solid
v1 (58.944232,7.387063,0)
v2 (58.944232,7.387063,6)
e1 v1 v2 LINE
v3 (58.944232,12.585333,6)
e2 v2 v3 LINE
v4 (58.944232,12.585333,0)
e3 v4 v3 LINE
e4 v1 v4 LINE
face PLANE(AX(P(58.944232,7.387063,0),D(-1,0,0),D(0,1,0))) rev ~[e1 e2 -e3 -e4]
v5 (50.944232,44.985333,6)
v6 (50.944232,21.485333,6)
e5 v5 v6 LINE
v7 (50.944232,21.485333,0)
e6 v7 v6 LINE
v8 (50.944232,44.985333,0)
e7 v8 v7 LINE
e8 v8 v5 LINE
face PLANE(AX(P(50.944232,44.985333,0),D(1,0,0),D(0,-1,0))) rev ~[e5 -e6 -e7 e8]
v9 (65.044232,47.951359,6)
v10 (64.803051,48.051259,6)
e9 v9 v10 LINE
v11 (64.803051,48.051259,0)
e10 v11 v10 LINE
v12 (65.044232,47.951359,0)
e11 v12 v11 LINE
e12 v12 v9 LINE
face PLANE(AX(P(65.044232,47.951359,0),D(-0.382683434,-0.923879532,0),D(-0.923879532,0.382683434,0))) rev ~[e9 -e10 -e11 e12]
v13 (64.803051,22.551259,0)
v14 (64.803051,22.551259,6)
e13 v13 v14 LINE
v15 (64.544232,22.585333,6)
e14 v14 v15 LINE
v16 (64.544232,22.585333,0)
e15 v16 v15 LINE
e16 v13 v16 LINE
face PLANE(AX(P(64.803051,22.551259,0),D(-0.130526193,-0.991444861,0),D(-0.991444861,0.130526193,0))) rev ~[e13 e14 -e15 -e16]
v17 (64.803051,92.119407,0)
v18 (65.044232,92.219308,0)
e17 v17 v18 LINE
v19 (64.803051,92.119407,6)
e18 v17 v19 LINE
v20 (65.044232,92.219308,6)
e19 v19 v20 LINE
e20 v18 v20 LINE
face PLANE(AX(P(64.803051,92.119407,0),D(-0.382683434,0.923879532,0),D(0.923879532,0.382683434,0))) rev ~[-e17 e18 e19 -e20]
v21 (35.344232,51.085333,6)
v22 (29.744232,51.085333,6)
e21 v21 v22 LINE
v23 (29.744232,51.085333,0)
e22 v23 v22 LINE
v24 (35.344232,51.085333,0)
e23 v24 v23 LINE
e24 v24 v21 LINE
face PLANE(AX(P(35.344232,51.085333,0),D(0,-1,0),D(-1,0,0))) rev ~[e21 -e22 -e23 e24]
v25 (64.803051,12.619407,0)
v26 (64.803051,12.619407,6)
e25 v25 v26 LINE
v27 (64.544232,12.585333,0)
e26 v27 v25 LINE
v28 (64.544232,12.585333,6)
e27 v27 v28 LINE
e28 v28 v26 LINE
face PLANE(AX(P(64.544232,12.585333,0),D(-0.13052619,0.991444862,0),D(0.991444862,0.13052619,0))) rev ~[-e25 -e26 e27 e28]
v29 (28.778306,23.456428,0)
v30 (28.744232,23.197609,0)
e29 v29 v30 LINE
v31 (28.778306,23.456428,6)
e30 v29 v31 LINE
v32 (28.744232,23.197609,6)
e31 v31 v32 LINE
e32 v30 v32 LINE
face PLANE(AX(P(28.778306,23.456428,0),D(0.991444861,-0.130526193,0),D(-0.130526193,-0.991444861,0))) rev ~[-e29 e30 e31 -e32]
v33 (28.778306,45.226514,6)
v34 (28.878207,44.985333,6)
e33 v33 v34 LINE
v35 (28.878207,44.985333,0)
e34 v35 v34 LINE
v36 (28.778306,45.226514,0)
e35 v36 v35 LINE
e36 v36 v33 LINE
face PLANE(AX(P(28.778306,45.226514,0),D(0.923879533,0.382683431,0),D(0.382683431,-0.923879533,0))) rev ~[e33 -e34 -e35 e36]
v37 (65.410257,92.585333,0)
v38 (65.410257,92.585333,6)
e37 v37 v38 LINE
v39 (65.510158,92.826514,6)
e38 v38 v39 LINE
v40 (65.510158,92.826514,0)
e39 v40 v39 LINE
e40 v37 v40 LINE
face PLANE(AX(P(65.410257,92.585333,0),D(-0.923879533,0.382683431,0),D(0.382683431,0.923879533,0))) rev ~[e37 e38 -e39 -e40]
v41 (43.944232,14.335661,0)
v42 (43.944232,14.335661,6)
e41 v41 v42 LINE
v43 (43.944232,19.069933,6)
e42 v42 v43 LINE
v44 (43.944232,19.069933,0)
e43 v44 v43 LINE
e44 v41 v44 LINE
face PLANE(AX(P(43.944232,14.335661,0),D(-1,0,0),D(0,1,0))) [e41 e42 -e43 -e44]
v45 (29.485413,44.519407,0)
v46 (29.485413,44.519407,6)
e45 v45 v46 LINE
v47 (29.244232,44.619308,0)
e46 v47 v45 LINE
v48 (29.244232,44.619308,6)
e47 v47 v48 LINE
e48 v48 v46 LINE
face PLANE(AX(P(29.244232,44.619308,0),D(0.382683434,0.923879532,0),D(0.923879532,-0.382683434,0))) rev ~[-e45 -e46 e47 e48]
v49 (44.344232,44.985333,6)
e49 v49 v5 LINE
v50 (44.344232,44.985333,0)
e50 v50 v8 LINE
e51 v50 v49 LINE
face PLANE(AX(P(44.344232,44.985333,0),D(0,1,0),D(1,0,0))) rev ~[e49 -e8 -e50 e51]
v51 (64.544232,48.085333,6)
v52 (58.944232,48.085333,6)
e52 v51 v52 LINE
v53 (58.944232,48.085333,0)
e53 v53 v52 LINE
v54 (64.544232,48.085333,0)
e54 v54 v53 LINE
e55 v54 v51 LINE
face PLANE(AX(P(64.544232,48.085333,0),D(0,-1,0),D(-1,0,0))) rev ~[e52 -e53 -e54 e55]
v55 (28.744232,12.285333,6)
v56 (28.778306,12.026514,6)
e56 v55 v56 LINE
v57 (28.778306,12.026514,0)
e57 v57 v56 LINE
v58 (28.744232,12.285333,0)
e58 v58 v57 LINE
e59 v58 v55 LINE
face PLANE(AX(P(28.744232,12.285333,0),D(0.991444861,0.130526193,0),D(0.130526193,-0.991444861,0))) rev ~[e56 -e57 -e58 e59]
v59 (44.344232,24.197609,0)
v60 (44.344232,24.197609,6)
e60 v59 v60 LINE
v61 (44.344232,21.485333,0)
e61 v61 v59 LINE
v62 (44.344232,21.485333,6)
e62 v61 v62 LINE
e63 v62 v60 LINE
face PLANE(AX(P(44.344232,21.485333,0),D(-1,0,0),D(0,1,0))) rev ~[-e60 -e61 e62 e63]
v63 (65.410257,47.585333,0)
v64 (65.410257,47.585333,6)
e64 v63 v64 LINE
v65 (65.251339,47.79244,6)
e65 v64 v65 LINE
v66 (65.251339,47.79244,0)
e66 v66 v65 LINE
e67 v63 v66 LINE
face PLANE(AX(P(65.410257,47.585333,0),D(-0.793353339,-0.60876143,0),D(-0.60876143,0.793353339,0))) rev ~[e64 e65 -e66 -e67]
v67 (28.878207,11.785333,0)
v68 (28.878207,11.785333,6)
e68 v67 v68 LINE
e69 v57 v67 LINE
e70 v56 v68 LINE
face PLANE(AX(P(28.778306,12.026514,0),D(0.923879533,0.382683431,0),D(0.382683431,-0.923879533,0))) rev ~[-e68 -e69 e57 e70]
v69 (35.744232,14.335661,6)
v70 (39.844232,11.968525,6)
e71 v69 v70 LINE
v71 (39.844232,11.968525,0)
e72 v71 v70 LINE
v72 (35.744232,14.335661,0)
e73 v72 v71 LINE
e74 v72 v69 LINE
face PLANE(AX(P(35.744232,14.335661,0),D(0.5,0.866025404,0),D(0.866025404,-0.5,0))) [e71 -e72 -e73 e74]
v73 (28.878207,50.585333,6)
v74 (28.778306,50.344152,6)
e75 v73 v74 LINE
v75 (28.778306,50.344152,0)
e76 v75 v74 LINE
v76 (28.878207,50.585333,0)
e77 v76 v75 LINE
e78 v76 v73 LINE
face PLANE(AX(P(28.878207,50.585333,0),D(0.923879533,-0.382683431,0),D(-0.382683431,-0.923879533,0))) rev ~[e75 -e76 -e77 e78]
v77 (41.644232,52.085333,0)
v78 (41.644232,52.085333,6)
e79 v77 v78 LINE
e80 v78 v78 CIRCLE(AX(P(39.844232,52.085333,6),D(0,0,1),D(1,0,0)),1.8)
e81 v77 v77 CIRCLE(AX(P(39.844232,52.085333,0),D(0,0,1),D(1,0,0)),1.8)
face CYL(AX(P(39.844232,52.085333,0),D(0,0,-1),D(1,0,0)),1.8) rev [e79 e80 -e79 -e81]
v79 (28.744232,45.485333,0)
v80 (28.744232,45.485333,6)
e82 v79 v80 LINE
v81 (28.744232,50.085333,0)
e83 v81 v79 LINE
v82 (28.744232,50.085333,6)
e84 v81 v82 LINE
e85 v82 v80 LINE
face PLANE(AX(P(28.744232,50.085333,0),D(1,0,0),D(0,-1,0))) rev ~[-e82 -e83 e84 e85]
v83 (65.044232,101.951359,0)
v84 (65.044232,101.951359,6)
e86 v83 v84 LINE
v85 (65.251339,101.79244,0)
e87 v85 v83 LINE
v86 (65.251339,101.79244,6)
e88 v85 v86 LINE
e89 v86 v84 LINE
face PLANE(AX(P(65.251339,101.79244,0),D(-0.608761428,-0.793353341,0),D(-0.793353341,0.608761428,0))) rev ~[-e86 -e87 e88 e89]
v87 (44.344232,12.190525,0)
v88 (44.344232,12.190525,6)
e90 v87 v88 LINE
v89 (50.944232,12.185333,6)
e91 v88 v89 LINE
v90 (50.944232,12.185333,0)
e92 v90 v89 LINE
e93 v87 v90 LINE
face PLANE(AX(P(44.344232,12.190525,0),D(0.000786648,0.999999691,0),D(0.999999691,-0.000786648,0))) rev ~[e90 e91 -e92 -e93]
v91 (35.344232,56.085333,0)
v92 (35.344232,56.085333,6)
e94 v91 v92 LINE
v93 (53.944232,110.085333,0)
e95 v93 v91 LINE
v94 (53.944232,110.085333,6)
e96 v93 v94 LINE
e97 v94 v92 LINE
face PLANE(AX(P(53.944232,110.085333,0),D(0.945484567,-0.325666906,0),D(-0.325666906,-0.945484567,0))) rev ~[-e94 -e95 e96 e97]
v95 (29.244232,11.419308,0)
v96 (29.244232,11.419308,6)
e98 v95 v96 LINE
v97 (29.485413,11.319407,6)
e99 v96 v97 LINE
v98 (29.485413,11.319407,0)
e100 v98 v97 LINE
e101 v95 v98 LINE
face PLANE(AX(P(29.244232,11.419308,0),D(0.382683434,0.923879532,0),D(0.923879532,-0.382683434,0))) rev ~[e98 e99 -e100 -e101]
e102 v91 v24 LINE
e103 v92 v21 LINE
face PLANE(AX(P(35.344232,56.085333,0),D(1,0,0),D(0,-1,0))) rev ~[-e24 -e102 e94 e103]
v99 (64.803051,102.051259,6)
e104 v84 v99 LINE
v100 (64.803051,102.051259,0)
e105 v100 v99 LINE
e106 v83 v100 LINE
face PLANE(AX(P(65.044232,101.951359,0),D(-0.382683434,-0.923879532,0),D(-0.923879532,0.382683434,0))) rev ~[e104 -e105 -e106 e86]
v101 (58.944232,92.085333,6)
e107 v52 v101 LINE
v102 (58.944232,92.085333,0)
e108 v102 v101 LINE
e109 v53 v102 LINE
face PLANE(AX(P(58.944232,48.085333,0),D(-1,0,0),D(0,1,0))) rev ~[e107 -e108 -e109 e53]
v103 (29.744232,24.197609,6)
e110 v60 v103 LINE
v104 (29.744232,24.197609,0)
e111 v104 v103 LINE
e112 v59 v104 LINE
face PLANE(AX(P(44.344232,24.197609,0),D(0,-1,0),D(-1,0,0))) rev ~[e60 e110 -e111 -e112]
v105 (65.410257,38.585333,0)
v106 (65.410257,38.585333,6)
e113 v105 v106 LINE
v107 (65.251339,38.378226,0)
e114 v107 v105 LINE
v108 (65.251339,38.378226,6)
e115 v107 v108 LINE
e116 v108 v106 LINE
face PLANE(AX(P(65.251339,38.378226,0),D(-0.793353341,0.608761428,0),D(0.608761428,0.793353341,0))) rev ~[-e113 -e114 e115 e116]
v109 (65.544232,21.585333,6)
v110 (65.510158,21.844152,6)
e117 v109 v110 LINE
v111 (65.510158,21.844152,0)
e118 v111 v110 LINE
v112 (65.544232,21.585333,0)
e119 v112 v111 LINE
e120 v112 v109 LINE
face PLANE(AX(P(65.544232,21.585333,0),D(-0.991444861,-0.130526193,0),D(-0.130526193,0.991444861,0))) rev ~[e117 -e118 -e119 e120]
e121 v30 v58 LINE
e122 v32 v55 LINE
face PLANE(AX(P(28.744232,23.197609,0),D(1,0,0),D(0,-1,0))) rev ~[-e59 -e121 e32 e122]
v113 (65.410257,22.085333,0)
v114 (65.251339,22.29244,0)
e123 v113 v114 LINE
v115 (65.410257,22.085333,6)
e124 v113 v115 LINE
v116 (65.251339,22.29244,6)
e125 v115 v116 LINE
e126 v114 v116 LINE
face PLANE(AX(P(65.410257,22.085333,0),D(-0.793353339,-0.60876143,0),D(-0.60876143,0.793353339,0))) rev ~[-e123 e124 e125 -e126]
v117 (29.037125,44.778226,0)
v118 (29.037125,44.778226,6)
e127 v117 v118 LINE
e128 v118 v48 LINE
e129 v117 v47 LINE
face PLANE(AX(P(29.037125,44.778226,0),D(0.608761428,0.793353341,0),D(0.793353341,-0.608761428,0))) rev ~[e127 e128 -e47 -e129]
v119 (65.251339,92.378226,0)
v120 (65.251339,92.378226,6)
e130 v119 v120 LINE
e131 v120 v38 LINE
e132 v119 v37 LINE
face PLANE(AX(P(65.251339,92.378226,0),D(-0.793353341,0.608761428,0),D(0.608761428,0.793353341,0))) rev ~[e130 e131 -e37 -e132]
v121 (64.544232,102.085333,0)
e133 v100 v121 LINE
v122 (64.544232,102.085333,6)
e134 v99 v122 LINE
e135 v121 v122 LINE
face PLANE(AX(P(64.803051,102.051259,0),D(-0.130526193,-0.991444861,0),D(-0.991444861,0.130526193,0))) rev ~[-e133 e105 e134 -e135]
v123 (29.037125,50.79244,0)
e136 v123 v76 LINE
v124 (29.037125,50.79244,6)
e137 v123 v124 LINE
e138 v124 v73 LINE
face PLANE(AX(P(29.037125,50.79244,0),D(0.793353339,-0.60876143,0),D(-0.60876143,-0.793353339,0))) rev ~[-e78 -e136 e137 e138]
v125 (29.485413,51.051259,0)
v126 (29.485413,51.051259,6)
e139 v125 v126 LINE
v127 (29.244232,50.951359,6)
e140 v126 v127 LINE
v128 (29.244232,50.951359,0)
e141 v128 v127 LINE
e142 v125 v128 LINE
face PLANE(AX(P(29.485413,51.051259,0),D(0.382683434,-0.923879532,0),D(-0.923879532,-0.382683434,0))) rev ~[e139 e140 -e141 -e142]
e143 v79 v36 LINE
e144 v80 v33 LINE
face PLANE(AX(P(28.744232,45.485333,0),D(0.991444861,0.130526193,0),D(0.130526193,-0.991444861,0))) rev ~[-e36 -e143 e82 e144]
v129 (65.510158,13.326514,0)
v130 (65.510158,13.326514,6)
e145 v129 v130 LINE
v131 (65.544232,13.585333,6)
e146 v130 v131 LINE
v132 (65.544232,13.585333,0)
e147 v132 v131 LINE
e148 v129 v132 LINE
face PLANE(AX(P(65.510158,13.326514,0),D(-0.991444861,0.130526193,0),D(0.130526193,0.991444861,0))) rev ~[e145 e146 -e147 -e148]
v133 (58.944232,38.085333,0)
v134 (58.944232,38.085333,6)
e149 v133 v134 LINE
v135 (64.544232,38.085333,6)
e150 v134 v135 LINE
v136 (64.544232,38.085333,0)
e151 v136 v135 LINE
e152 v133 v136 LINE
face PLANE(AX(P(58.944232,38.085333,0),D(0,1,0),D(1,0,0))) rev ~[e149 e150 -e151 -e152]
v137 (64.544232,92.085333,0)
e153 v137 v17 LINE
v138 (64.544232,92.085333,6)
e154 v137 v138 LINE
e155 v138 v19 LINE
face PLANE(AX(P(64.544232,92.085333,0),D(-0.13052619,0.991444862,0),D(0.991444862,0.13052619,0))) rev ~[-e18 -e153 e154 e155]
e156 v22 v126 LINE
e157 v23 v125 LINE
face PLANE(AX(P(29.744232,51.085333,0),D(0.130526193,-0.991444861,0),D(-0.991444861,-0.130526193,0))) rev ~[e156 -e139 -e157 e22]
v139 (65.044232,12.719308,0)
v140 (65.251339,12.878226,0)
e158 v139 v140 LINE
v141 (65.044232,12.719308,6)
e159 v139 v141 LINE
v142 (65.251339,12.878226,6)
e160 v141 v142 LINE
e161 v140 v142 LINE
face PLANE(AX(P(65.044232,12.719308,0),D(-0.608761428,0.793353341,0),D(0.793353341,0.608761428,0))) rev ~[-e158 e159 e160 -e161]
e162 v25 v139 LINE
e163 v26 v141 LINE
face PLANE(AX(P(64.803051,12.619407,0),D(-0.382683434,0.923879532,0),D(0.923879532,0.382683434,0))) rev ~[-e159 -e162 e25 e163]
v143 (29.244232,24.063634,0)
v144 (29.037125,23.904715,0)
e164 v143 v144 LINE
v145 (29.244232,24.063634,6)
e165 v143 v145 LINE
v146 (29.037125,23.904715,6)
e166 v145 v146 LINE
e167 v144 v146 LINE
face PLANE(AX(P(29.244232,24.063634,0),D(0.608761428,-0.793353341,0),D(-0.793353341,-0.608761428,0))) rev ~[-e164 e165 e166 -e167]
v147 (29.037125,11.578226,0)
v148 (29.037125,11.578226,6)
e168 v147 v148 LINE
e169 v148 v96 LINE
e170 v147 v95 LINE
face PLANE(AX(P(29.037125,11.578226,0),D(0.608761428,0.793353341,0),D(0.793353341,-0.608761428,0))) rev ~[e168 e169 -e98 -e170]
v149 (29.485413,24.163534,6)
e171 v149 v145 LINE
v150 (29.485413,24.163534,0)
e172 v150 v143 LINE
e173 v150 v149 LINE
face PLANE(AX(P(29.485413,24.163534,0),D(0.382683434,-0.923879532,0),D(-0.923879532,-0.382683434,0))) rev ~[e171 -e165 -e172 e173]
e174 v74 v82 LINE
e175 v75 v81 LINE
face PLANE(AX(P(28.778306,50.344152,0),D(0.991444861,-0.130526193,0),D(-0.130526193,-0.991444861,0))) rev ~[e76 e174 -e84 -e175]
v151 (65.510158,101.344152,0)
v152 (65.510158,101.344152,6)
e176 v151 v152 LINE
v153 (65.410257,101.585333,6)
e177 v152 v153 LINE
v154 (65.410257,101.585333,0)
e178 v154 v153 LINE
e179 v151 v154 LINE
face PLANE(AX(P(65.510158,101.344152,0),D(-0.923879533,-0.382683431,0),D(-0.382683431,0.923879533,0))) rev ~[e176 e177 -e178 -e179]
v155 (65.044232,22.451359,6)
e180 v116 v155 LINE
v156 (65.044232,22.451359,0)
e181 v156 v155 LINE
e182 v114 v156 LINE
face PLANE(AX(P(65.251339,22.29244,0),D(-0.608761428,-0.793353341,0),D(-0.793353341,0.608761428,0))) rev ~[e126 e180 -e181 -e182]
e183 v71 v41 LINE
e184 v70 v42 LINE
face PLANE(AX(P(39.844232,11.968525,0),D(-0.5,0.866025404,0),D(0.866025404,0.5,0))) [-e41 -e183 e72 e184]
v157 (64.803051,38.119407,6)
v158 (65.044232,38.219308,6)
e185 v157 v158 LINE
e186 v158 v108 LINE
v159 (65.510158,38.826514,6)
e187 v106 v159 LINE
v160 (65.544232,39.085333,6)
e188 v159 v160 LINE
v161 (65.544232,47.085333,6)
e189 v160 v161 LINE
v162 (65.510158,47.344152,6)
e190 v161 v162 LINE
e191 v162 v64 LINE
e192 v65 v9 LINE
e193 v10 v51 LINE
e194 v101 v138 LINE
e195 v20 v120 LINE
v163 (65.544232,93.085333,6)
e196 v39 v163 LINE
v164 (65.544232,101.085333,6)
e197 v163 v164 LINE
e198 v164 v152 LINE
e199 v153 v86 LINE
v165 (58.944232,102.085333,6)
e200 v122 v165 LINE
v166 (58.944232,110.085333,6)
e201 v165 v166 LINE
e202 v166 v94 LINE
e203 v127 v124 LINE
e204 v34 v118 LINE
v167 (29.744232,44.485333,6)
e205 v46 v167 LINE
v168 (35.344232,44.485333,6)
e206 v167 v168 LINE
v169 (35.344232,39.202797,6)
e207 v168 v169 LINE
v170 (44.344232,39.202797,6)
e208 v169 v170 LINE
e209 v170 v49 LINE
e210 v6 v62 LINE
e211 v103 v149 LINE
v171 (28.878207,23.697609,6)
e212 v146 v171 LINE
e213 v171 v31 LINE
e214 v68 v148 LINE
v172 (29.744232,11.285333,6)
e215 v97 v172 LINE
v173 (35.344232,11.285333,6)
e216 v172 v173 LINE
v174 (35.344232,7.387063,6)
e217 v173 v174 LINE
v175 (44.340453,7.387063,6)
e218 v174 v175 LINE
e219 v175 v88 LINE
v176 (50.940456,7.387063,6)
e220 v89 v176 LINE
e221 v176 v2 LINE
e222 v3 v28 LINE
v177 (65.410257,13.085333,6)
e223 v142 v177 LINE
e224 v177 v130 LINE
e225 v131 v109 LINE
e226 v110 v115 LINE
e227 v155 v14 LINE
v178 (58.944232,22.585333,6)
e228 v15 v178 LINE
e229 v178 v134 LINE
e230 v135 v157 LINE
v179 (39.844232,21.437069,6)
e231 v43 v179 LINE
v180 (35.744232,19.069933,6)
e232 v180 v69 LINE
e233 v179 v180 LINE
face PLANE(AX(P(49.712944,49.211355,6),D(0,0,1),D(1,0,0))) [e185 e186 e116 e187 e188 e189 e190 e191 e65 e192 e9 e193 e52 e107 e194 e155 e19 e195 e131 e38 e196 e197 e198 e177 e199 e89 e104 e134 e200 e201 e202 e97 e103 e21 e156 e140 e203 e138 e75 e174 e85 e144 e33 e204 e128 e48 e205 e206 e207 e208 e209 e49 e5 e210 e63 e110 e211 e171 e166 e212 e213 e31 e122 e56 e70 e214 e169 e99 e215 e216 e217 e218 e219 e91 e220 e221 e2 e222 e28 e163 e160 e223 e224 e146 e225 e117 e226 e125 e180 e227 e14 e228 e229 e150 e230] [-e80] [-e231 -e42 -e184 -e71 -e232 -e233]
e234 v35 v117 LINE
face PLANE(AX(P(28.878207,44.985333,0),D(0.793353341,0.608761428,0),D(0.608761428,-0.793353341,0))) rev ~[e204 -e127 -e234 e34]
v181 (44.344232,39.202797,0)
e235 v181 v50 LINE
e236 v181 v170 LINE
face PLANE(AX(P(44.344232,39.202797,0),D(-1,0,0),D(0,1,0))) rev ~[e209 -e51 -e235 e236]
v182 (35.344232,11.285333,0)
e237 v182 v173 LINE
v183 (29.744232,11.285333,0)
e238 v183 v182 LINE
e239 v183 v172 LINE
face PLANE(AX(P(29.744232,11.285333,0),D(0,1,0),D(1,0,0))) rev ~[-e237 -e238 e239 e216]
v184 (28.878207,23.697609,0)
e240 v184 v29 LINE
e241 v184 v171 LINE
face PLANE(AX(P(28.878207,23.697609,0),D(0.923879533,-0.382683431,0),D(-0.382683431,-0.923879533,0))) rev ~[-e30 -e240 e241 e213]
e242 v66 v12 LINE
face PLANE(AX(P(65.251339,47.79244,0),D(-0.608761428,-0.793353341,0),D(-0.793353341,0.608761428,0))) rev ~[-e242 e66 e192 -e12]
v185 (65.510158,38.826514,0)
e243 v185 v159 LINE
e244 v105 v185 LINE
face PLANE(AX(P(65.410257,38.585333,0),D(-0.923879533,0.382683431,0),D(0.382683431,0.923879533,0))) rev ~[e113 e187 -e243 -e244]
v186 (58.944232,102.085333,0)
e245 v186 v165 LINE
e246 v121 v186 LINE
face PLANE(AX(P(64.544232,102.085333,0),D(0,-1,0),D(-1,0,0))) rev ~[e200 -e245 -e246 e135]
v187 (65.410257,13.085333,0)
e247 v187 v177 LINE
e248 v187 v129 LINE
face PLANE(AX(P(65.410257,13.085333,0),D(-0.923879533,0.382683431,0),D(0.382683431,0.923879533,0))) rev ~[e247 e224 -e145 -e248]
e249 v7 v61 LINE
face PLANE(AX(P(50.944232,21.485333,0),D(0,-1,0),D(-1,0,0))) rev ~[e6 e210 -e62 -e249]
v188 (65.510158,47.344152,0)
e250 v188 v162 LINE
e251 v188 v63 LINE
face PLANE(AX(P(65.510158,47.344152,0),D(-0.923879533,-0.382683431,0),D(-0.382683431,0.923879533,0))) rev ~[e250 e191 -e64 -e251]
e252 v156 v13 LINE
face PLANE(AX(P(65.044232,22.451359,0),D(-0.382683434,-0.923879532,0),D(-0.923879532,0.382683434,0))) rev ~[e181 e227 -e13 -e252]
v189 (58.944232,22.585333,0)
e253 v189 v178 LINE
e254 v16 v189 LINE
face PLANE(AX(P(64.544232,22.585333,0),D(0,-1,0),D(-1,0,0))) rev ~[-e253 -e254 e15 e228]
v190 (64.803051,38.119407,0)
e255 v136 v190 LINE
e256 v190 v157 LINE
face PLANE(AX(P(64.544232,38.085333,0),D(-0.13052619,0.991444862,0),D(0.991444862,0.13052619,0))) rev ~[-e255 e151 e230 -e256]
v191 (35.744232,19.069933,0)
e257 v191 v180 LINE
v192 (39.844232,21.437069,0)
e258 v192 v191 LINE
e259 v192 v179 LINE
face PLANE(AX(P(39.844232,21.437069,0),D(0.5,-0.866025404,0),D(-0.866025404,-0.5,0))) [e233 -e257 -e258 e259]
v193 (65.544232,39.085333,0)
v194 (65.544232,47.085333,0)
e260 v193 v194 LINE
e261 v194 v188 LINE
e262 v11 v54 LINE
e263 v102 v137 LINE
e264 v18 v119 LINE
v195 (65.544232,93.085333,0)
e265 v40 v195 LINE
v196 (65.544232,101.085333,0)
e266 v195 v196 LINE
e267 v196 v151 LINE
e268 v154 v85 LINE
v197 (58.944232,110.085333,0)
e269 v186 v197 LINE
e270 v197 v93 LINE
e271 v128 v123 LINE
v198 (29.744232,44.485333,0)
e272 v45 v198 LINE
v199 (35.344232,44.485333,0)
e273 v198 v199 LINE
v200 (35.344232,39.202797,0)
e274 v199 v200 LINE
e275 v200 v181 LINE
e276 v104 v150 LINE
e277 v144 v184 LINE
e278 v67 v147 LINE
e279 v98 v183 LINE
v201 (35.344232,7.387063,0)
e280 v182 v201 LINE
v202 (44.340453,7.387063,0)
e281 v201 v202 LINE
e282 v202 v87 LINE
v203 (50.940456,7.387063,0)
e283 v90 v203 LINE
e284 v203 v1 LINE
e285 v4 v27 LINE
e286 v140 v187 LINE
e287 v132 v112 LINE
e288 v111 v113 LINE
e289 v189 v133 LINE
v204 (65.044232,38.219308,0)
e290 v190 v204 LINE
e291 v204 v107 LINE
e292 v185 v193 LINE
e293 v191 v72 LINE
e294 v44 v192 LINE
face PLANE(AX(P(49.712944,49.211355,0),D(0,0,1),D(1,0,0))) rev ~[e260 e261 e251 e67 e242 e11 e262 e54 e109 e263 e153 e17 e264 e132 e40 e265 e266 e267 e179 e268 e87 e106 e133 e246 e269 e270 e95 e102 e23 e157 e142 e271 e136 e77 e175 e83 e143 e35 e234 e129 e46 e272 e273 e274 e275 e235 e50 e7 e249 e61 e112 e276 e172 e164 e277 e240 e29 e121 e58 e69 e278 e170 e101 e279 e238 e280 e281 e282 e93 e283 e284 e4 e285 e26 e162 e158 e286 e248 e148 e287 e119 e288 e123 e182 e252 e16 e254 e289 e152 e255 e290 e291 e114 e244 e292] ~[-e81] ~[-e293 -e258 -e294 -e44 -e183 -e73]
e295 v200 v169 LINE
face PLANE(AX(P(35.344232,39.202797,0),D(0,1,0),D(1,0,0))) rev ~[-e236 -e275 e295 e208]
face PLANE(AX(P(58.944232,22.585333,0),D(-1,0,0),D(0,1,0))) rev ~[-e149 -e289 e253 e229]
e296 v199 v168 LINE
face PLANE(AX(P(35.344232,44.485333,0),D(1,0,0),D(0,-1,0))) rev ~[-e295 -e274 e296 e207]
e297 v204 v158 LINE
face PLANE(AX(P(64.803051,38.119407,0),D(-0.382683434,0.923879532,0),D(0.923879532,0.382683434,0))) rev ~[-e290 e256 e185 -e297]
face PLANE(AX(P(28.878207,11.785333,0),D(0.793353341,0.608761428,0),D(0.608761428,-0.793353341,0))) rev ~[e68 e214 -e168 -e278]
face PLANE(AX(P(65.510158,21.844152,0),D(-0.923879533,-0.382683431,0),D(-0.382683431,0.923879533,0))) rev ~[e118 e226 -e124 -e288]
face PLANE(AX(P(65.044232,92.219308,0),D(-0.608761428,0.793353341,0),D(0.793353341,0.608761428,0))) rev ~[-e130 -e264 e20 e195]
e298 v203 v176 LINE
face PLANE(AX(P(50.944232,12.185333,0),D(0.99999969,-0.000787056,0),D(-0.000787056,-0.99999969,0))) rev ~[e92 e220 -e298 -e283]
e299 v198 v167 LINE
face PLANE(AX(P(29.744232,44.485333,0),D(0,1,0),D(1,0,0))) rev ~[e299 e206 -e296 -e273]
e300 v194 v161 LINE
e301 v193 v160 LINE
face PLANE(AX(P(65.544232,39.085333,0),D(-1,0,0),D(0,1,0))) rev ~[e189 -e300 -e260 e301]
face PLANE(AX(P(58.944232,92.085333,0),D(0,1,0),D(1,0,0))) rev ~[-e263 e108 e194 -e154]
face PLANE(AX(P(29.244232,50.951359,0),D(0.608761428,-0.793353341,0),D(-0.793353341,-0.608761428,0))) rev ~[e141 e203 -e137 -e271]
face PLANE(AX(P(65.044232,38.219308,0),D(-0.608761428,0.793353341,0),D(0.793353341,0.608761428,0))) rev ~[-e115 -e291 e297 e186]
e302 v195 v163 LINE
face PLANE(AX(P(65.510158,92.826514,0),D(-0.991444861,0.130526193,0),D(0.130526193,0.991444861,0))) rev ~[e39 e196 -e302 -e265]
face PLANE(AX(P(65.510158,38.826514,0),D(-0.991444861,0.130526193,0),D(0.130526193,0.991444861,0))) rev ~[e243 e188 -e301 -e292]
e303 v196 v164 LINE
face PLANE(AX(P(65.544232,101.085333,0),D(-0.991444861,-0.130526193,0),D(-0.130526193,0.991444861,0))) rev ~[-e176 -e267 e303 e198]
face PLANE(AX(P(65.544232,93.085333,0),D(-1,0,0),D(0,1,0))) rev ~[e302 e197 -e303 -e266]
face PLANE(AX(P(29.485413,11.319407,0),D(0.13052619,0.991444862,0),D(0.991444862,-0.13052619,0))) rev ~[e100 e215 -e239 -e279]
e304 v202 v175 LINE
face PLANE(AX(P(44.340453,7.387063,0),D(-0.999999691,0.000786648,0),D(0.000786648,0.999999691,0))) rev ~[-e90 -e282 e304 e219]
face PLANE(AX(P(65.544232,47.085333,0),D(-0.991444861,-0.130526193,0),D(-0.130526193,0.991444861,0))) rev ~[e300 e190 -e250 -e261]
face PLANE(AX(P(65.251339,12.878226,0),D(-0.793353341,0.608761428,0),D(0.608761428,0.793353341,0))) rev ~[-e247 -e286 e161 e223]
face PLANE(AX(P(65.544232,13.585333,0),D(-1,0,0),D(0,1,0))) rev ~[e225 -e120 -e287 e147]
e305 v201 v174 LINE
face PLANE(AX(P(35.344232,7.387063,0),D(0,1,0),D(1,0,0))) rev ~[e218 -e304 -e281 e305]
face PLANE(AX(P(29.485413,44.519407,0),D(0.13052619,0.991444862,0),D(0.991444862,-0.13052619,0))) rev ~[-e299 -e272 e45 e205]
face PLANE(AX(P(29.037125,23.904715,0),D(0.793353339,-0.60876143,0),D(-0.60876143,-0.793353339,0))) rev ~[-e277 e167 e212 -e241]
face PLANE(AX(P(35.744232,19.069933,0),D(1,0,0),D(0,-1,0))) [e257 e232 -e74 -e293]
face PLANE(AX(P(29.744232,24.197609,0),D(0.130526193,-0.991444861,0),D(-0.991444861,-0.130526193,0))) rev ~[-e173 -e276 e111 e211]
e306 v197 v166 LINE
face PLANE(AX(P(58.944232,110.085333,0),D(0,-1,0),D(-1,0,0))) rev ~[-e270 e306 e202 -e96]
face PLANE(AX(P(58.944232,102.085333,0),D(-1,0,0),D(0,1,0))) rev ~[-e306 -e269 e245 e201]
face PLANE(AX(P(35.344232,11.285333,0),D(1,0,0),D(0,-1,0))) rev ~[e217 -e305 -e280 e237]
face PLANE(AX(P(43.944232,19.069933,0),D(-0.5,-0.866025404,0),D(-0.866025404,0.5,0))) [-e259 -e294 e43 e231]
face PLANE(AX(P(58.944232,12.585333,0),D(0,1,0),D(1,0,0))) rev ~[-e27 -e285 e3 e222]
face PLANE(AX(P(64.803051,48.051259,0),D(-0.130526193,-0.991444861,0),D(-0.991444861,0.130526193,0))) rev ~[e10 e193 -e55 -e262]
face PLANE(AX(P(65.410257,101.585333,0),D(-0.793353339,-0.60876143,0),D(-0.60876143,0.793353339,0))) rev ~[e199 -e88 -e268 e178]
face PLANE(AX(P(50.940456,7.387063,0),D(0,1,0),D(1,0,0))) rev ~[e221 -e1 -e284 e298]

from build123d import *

# Parameters (mm, degrees)
MODEL_R                  = 1.8
RESSALTO_EXTRUS_O1_DEPTH = 6


with BuildPart() as part:
    # Model → Ressalto-extrusão1 (new body)
    with BuildSketch(Plane.XY):
        Polygon((64.544232036, 102.085333217), (58.944232036, 102.085333217), (58.944232036, 110.085333217), (53.944232036, 110.085333217), (35.344232036, 56.085333217), (35.344232036, 51.085333217), (29.744232036, 51.085333217), (29.485412991, 51.051259043), (29.244232036, 50.95135862), (29.037125255, 50.792439998), (28.878206632, 50.585333217), (28.77830621, 50.344152262), (28.744232036, 50.085333217), (28.744232036, 45.485333217), (28.77830621, 45.226514172), (28.878206632, 44.985333217), (29.037125255, 44.778226435), (29.244232036, 44.619307813), (29.485412991, 44.51940739), (29.744232036, 44.485333217), (35.344232036, 44.485333217), (35.344232036, 39.202796806), (44.344232036, 39.202796806), (44.344232036, 44.985333217), (50.944232036, 44.985333217), (50.944232036, 21.485333217), (44.344232036, 21.485333217), (44.344232036, 24.197608641), (29.744232036, 24.197608641), (29.485412991, 24.163534467), (29.244232036, 24.063634044), (29.037125255, 23.904715422), (28.878206632, 23.697608641), (28.77830621, 23.456427686), (28.744232036, 23.197608641), (28.744232036, 12.285333217), (28.77830621, 12.026514172), (28.878206632, 11.785333217), (29.037125255, 11.578226435), (29.244232036, 11.419307813), (29.485412991, 11.31940739), (29.744232036, 11.285333217), (35.344232036, 11.285333217), (35.344232036, 7.387063336), (44.340453402, 7.387063336), (44.344232036, 12.190525094), (50.944232036, 12.185333217), (50.940455526, 7.387063336), (58.944232036, 7.387063336), (58.944232036, 12.585333217), (64.544232036, 12.585333217), (64.803051081, 12.61940739), (65.044232036, 12.719307813), (65.251338817, 12.878226435), (65.41025744, 13.085333217), (65.510157862, 13.326514172), (65.544232036, 13.585333217), (65.544232036, 21.585333217), (65.510157862, 21.844152262), (65.41025744, 22.085333217), (65.251338817, 22.292439998), (65.044232036, 22.45135862), (64.803051081, 22.551259043), (64.544232036, 22.585333217), (58.944232036, 22.585333217), (58.944232036, 38.085333217), (64.544232036, 38.085333217), (64.803051081, 38.11940739), (65.044232036, 38.219307813), (65.251338817, 38.378226435), (65.41025744, 38.585333217), (65.510157862, 38.826514172), (65.544232036, 39.085333217), (65.544232036, 47.085333217), (65.510157862, 47.344152262), (65.41025744, 47.585333217), (65.251338817, 47.792439998), (65.044232036, 47.95135862), (64.803051081, 48.051259043), (64.544232036, 48.085333217), (58.944232036, 48.085333217), (58.944232036, 92.085333217), (64.544232036, 92.085333217), (64.803051081, 92.11940739), (65.044232036, 92.219307813), (65.251338817, 92.378226435), (65.41025744, 92.585333217), (65.510157862, 92.826514172), (65.544232036, 93.085333217), (65.544232036, 101.085333217), (65.510157862, 101.344152262), (65.41025744, 101.585333217), (65.251338817, 101.792439998), (65.044232036, 101.95135862), (64.803051081, 102.051259043), align=None)
        with Locations((39.844232036, 52.085333217)):
            Circle(MODEL_R, mode=Mode.SUBTRACT)
        Polygon((43.944232036, 19.069932909), (39.844232036, 21.437069013), (35.744232036, 19.069932909), (35.744232036, 14.335660702), (39.844232036, 11.968524598), (43.944232036, 14.335660702), align=None, mode=Mode.SUBTRACT)
    extrude(amount=RESSALTO_EXTRUS_O1_DEPTH)


solid = part.part
